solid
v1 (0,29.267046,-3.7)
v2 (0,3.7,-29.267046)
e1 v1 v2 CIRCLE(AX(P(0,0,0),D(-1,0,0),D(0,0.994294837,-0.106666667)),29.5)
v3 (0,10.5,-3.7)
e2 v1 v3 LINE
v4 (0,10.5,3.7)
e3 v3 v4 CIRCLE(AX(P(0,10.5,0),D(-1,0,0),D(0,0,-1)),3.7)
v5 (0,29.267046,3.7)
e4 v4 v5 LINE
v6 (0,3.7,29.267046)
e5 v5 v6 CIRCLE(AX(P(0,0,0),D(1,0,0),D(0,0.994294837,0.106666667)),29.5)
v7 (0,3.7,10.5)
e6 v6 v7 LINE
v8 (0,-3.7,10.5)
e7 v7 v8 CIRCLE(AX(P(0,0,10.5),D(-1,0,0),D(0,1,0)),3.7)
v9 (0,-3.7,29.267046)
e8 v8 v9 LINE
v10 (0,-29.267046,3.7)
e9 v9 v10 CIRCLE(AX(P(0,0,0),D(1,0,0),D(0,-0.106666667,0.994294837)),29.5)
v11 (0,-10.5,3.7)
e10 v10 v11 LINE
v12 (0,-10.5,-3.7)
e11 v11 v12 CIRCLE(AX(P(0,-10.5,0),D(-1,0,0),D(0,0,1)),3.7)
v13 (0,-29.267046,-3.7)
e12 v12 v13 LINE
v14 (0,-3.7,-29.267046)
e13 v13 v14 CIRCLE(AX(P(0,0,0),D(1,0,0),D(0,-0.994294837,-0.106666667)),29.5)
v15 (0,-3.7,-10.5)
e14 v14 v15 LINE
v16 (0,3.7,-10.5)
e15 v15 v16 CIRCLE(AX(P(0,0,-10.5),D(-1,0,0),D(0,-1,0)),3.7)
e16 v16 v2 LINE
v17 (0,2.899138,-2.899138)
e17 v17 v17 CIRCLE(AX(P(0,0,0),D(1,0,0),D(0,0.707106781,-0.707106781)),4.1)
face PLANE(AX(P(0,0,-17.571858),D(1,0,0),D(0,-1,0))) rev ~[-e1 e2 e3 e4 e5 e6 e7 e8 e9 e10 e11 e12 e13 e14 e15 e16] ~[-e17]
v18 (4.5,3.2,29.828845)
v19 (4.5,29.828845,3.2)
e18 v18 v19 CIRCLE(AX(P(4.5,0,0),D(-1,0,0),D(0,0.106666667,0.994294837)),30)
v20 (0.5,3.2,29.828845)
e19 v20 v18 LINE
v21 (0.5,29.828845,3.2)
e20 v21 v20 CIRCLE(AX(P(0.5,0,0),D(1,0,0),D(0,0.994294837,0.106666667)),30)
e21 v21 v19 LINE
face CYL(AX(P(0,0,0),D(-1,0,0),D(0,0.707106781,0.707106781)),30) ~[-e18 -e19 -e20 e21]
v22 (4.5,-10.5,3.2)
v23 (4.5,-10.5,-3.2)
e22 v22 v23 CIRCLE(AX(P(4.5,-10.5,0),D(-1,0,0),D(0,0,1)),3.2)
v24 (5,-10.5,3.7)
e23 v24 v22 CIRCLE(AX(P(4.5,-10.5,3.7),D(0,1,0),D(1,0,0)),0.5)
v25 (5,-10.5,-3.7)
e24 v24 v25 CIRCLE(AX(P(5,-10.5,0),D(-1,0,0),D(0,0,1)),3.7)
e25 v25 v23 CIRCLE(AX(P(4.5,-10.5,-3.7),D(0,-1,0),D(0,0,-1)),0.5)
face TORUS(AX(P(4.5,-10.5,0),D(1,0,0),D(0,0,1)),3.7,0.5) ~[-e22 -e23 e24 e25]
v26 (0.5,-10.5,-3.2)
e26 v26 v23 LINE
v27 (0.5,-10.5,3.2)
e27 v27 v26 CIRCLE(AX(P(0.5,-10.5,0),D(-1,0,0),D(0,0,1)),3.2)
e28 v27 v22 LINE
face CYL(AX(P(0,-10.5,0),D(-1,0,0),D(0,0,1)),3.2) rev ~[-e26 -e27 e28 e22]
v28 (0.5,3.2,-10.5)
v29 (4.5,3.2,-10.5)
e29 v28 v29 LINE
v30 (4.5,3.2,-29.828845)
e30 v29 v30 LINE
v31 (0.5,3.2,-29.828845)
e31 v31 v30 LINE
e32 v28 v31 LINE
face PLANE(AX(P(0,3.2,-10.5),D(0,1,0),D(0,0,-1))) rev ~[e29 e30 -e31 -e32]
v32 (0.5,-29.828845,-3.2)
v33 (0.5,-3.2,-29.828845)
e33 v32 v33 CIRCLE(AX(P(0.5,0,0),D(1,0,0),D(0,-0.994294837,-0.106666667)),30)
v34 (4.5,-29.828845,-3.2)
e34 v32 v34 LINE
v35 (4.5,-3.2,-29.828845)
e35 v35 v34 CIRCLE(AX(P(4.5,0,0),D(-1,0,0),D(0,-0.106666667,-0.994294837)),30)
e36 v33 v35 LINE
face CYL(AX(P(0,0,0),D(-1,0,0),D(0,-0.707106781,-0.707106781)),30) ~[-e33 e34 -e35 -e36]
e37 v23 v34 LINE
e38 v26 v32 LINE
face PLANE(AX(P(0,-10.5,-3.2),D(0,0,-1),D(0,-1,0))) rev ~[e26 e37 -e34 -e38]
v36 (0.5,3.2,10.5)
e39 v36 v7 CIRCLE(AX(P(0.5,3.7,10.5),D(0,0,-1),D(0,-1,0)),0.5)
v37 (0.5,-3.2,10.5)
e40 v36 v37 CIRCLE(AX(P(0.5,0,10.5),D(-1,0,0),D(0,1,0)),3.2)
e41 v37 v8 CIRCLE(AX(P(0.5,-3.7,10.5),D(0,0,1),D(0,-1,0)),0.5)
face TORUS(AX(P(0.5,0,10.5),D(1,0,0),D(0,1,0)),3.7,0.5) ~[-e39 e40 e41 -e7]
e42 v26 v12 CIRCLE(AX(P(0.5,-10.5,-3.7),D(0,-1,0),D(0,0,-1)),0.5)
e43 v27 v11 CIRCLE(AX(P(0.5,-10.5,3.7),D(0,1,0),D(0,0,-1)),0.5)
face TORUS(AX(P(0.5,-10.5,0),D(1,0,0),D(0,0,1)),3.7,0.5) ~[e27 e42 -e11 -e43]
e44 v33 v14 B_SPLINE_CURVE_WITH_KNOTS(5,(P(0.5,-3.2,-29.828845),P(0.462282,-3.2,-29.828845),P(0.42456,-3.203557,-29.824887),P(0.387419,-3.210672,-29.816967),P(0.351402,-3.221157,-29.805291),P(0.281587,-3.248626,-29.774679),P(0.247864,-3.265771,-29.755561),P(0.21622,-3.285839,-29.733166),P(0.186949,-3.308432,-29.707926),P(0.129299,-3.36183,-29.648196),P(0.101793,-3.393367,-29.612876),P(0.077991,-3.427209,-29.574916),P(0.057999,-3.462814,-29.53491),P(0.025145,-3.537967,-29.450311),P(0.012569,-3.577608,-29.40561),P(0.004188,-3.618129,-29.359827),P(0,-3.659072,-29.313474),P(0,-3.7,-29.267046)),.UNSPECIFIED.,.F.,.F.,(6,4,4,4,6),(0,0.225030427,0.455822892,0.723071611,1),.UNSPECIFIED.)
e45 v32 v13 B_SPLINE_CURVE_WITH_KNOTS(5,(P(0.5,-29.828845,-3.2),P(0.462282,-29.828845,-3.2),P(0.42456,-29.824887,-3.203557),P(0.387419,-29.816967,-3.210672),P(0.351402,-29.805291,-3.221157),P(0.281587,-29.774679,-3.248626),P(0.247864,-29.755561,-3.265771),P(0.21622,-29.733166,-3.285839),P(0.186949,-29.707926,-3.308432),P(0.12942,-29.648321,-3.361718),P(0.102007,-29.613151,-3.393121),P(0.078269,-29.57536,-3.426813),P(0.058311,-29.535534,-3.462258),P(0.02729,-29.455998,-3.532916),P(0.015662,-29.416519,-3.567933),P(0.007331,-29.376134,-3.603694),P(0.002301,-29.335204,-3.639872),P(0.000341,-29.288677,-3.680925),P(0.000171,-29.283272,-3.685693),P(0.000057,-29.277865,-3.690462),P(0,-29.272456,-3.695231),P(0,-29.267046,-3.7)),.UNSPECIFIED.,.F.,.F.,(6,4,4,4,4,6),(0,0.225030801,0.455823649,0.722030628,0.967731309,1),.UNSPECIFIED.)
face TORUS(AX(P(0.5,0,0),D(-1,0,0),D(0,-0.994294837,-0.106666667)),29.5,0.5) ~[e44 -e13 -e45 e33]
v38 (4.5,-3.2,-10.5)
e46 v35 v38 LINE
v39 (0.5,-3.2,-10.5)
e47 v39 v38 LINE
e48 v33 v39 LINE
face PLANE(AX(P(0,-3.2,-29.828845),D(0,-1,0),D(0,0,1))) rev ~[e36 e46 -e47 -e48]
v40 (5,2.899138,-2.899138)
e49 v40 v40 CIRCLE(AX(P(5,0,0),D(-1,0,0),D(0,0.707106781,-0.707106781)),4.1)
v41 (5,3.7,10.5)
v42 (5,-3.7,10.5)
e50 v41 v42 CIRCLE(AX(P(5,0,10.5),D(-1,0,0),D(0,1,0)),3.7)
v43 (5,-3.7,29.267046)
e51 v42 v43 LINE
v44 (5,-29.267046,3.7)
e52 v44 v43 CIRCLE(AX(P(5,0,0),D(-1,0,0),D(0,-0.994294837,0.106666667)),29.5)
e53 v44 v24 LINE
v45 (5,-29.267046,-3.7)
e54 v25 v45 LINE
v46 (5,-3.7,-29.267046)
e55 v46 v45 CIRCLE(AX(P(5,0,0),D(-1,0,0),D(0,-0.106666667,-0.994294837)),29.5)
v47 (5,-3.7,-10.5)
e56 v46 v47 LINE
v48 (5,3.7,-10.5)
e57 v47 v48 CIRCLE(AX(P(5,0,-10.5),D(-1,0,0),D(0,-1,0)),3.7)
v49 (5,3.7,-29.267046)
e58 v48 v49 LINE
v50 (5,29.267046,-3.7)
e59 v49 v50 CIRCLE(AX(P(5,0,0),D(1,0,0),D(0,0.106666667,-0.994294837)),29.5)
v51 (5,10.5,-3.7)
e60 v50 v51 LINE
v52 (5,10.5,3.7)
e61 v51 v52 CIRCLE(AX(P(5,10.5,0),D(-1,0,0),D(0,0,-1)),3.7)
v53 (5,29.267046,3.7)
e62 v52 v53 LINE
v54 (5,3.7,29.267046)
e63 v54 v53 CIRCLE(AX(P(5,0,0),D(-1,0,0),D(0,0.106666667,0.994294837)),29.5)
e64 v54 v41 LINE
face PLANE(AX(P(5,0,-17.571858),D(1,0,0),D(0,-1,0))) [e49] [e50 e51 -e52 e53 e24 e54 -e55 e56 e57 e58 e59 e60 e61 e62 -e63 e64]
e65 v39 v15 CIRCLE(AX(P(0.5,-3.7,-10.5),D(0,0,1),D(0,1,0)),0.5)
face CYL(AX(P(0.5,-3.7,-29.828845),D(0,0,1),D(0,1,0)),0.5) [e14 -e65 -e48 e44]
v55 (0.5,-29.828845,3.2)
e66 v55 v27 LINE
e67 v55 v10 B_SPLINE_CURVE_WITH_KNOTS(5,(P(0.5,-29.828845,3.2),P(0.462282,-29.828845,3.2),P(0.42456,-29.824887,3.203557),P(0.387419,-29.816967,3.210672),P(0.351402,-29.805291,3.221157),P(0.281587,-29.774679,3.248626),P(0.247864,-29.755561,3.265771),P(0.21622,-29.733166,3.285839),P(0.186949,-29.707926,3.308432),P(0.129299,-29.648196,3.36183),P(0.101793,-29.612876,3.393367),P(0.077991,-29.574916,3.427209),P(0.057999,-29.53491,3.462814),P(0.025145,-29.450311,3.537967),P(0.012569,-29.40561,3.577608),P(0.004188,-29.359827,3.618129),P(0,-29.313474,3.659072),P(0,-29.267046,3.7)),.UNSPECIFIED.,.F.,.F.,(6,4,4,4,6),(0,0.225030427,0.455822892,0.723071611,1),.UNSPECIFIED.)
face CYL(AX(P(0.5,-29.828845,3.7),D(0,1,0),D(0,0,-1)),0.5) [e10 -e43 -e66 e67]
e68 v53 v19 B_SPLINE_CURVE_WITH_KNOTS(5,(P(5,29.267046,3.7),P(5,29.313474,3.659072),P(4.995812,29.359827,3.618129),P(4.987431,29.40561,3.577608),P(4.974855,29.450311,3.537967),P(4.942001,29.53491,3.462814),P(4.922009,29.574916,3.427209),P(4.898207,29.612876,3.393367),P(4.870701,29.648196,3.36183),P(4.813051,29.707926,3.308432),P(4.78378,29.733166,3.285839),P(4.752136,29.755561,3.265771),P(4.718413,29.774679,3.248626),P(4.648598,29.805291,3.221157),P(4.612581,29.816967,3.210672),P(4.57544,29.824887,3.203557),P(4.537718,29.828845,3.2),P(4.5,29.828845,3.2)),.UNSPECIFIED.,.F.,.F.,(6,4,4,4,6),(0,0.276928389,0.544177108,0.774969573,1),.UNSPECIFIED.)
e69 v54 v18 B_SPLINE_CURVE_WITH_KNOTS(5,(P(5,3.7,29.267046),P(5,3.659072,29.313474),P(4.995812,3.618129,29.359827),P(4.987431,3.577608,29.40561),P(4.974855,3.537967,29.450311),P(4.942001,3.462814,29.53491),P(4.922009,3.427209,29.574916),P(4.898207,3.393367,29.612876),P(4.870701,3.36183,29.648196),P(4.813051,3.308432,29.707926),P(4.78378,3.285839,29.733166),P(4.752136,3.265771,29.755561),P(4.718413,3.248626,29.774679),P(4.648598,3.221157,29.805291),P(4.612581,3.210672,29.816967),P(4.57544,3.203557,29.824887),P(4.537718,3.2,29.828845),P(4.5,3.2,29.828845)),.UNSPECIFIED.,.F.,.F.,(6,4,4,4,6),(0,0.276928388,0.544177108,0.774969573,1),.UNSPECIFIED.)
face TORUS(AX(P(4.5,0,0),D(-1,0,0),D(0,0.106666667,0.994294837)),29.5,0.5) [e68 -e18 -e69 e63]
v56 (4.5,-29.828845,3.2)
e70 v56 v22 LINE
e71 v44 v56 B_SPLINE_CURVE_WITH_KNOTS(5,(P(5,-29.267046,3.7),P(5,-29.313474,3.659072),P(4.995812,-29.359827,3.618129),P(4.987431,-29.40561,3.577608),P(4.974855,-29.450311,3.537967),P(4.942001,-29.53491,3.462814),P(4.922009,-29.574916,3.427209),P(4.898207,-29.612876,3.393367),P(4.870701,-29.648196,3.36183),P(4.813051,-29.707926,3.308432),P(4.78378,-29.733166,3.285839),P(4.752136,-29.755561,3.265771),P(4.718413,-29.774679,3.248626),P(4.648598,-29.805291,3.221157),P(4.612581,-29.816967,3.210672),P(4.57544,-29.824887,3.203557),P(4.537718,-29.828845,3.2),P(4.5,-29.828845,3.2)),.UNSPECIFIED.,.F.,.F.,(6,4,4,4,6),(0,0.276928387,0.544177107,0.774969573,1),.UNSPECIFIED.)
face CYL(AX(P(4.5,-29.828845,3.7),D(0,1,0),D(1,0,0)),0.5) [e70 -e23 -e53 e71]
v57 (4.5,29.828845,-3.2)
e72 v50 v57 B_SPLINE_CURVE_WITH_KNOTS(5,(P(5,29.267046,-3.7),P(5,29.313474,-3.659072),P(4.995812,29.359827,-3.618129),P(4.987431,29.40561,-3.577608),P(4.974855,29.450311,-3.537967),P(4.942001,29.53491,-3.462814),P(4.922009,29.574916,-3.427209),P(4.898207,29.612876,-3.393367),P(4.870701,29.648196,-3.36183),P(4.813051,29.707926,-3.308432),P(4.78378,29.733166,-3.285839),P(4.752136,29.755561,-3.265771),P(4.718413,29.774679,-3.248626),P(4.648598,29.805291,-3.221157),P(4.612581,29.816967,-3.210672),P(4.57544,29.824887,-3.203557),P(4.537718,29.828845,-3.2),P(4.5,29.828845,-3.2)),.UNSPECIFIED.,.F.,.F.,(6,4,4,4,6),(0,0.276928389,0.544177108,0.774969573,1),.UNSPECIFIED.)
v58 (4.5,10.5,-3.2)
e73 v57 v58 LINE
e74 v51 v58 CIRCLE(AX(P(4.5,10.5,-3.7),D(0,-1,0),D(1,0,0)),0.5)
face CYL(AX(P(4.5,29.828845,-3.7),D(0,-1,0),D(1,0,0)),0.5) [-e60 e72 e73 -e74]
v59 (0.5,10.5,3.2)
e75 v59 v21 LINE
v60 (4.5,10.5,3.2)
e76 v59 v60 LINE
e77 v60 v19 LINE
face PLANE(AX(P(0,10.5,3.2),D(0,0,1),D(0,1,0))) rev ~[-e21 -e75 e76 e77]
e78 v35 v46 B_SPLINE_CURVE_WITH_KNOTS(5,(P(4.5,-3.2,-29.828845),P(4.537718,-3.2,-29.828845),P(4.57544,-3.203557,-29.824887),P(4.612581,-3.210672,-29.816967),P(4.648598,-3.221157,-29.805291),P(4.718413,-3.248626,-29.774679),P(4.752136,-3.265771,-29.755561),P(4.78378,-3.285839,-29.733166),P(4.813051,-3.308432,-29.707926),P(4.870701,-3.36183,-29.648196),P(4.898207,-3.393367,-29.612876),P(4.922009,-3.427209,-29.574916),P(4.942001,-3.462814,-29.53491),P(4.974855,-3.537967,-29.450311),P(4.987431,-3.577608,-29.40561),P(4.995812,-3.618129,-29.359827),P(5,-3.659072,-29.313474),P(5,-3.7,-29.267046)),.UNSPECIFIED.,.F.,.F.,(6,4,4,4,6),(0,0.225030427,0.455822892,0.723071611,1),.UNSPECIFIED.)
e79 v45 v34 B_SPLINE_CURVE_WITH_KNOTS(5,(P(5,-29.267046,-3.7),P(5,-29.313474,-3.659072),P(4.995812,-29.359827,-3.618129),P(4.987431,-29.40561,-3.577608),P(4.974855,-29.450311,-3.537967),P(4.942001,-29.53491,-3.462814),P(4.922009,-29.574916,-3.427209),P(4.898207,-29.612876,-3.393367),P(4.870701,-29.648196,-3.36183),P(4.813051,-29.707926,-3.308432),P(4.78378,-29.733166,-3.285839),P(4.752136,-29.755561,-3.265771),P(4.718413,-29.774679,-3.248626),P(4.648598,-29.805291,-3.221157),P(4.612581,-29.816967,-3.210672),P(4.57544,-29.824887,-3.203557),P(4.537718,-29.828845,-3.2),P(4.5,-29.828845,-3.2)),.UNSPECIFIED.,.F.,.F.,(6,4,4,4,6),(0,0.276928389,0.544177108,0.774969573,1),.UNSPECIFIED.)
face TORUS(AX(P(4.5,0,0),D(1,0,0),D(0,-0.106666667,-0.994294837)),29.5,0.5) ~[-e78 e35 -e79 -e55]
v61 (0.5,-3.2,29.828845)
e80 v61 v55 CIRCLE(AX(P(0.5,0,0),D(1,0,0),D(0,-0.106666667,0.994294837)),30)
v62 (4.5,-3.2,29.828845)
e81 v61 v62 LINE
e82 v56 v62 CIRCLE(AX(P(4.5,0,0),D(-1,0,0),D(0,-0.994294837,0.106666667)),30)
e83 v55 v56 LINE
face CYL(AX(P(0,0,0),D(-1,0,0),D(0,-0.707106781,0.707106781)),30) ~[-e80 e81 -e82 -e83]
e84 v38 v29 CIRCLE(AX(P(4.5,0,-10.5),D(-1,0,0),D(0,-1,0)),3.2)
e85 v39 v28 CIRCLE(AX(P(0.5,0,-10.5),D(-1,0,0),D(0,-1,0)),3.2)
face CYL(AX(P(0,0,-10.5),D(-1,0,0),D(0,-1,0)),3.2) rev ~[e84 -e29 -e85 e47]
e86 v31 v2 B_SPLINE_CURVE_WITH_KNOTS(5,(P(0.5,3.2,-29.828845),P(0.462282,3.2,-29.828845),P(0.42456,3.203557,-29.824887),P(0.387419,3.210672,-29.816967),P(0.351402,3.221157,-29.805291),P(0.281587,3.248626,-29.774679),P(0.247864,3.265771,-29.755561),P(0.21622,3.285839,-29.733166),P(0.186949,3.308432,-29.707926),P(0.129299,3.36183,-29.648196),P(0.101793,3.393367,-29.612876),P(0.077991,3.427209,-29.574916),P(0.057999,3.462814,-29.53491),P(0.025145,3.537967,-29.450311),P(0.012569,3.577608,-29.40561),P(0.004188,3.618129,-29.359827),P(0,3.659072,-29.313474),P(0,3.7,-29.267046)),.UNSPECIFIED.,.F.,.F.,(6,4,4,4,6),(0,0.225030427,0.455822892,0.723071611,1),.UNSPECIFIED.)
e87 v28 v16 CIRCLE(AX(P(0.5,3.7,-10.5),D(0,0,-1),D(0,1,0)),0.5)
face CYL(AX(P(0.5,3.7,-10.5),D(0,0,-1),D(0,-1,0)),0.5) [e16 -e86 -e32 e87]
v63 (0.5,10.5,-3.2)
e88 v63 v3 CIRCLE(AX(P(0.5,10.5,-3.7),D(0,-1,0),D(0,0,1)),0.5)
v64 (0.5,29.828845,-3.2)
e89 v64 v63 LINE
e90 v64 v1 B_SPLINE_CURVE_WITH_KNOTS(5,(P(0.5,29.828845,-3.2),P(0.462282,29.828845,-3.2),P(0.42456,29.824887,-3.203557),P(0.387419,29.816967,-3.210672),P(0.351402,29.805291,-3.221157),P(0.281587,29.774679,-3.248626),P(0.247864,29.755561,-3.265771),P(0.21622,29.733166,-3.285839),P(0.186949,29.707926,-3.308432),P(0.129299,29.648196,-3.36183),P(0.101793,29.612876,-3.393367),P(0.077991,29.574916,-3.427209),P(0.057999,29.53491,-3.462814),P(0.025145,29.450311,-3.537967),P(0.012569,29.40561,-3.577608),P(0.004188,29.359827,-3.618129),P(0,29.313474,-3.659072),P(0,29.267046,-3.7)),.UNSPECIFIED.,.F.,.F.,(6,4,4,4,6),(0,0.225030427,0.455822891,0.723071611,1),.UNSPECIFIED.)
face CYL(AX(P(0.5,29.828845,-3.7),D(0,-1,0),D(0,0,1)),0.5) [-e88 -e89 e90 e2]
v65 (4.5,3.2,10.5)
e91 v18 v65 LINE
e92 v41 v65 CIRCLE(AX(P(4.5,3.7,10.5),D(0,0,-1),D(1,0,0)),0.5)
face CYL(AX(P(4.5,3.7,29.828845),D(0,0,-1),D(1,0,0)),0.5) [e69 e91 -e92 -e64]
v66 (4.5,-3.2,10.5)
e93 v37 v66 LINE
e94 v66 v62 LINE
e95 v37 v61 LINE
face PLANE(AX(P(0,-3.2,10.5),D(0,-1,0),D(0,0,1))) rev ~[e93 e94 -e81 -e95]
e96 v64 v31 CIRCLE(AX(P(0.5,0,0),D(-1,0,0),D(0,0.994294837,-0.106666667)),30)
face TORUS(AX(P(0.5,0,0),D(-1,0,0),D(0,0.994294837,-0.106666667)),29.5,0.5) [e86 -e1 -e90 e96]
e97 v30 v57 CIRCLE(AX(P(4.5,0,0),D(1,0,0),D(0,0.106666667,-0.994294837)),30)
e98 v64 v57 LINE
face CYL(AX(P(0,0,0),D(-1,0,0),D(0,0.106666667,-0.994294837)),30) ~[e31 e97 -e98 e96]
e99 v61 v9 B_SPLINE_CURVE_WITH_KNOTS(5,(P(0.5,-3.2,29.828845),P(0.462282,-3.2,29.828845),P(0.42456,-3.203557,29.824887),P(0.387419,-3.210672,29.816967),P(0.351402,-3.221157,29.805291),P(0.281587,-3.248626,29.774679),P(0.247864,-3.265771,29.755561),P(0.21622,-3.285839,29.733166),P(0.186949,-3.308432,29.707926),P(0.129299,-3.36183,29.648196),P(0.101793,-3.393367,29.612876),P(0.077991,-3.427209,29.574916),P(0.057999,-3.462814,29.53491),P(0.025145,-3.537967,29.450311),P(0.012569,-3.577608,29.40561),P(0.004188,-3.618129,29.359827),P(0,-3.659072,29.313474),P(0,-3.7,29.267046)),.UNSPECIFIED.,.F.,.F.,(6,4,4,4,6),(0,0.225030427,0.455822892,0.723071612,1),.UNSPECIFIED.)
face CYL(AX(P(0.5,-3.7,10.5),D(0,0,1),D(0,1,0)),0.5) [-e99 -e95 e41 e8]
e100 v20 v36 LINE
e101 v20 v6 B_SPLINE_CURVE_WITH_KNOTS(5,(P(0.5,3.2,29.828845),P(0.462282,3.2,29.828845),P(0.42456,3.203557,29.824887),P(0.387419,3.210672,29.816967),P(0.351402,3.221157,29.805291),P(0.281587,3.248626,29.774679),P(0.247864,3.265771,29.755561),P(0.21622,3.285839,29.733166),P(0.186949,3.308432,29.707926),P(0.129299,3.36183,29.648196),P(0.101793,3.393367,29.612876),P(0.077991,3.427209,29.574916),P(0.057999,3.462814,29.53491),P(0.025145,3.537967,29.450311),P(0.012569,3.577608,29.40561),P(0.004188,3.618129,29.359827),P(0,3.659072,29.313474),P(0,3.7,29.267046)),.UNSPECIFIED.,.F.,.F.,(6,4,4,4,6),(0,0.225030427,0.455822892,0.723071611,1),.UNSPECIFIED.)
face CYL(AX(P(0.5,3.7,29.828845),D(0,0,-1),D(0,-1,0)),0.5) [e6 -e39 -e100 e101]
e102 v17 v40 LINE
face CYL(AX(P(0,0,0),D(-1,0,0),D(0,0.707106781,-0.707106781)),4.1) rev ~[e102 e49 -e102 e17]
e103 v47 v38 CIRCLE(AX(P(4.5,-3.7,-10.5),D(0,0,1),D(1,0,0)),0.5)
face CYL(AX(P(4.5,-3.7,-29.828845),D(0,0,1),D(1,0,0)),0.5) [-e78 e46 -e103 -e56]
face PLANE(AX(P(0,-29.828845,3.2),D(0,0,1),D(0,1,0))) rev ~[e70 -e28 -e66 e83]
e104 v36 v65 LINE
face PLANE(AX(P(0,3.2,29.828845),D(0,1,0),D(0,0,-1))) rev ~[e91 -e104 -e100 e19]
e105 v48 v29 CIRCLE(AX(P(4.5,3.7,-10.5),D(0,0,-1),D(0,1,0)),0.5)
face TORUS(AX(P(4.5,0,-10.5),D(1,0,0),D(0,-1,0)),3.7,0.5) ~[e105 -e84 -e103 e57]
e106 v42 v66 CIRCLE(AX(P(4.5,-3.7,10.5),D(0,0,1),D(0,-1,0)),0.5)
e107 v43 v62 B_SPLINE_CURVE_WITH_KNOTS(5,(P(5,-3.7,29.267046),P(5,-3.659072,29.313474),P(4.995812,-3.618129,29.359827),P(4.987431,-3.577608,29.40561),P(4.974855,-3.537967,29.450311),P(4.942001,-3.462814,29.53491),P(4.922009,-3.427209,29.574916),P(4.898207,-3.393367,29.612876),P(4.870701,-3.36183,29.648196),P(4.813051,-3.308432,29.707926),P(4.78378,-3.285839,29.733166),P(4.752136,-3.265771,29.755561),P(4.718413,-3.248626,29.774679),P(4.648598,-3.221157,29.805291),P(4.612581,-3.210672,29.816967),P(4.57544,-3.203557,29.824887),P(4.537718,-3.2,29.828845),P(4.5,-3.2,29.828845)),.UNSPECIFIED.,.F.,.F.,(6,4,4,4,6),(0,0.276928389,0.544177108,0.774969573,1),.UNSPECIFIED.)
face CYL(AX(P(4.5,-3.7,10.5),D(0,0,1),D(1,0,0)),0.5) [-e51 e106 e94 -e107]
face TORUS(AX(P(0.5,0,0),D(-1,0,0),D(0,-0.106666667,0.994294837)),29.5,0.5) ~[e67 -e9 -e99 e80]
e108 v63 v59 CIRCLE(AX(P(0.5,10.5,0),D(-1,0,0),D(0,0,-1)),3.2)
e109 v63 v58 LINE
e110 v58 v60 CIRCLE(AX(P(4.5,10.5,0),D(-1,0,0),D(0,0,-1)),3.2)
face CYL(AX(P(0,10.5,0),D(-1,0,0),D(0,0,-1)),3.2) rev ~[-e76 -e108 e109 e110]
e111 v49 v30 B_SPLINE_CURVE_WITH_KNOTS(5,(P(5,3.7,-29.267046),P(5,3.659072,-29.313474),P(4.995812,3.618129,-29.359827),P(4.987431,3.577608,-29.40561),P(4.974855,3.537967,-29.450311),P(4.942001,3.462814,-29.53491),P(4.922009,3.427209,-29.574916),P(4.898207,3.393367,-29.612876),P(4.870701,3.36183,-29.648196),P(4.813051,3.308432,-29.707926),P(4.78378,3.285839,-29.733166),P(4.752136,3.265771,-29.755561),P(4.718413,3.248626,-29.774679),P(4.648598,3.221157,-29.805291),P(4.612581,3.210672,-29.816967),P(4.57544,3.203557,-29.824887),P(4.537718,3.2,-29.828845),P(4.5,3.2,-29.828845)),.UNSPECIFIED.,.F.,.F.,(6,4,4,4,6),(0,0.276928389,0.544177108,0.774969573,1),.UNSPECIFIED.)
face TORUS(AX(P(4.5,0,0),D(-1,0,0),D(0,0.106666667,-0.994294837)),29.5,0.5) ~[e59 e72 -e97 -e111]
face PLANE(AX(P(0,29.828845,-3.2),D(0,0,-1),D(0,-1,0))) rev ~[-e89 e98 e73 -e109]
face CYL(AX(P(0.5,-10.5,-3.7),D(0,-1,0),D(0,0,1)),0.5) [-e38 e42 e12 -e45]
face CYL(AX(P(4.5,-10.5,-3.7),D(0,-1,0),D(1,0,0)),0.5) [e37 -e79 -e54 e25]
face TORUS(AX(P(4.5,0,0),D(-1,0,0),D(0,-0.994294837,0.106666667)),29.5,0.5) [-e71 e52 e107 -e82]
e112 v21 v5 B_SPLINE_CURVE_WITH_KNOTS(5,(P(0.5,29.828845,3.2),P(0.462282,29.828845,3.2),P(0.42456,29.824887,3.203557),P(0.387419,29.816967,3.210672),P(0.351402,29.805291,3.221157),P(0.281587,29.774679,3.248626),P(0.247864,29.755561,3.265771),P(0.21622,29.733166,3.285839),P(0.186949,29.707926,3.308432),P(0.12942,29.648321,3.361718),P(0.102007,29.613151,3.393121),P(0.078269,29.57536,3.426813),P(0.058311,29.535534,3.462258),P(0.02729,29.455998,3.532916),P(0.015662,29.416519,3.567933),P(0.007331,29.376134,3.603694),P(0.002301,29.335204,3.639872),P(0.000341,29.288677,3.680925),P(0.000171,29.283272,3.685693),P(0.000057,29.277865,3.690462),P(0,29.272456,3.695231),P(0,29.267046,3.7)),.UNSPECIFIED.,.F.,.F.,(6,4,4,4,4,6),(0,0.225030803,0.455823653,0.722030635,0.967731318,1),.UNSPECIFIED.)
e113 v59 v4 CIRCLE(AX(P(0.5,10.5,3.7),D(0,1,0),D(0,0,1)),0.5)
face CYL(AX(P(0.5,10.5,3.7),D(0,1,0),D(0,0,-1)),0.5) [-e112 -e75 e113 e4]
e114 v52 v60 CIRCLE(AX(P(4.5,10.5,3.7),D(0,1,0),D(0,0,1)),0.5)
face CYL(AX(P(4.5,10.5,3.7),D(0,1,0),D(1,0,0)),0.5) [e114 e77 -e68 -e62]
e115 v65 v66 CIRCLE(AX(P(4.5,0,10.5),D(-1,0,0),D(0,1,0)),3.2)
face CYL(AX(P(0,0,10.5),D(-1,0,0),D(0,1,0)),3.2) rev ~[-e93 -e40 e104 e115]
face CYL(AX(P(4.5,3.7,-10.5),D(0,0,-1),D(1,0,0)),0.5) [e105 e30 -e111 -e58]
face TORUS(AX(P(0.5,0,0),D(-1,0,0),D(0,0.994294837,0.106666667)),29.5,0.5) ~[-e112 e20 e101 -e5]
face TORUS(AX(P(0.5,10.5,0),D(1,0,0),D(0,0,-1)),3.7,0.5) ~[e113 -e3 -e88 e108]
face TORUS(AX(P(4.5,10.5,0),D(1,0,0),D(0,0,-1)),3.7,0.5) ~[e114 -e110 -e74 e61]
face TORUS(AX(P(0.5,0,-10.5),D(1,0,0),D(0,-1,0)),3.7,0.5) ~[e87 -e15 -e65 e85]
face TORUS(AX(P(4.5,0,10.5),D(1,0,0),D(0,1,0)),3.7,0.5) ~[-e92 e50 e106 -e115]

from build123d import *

# Parameters (mm, degrees)
BOSS_EXTRUDE1_DEPTH = 5
CIRPATTERN2_COUNT   = 4
FILLET1_R           = 0.5


with BuildPart() as part:
    # Sketch1 → Boss-Extrude1 (new body)
    with BuildSketch(Plane(origin=(0, 0, 0), x_dir=(0, 0, -1), z_dir=(1, 0, 0))):
        with BuildLine():
            ThreePointArc((21.21320343559647, 21.21320343559638), (12.944436867601569, 27.063657442789903), (3.2000000000000988, 29.82884510000344))
            Line((3.2000000000000006, 29.828845100003434), (3.200000000000003, 10.5))
            ThreePointArc((3.200000000000003, 10.500000000000002), (3.62e-15, 7.300000000000001), (-3.1999999999999966, 10.5))
            Line((-3.1999999999999975, 10.5), (-3.2000000000000006, 29.828845100003434))
            ThreePointArc((-3.200000000000102, 29.82884510000344), (-12.944436867601578, 27.0636574427899), (-21.21320343559647, 21.21320343559638))
            Line((-21.21320343559647, 21.21320343559638), (-2.899137802864851, 2.8991378028648396))
            ThreePointArc((-2.89913780286495, 2.899137802864739), (-1.34e-14, 4.1), (2.8991378028649306, 2.8991378028647583))
            Line((2.8991378028648507, 2.8991378028648387), (21.21320343559647, 21.213203435596384))
        make_face()
    boss_extrude1 = extrude(amount=BOSS_EXTRUDE1_DEPTH)

    # CirPattern2: Boss-Extrude1 ×4 about axis
    cirpattern2_axis = Axis((0, 0, 5.64e-15), (1, 0, 0))
    for i in range(1, CIRPATTERN2_COUNT):
        add(boss_extrude1.rotate(cirpattern2_axis, i * 360 / CIRPATTERN2_COUNT))

    # Fillet1
    fillet1_edges = [part.edges().sort_by_distance(p)[0] for p in [
        (0, 21.213203435596427, -21.213203435596423),
        (5, 20.164422550001717, 3.1999999999999993),
        (0, 21.21320343559643, 21.213203435596437),
        (0, 20.164422550001717, 3.1999999999999993),
        (0, 7.300000000000001, -3.77e-15),
        (5, 21.213203435596434, 21.213203435596416),
        (5, 1.022e-14, 7.300000000000006),
        (5, -3.1999999999999913, 20.164422550001724),
        (0, -21.213203435596427, 21.213203435596437),
        (0, 3.20000000000001, 20.164422550001724),
        (5, -21.21320343559641, 21.21320343559644),
        (5, -20.164422550001717, 3.2000000000000157),
        (5, -21.213203435596434, -21.2132034355964),
        (5, -3.200000000000012, -20.16442255000171),
        (5, 3.20000000000001, 20.164422550001724),
        (0, 1.022e-14, 7.300000000000006),
        (0, 3.199999999999989, -20.16442255000171),
        (0, -1.103e-14, -7.299999999999995),
        (0, -20.164422550001717, -3.1999999999999855),
        (0, -7.300000000000001, 1.595e-14),
        (0, -3.1999999999999913, 20.164422550001724),
        (5, -7.300000000000001, 1.595e-14),
        (5, -20.164422550001717, -3.1999999999999855),
        (0, -21.213203435596434, -21.21320343559642),
        (0, -20.164422550001717, 3.2000000000000157),
        (5, 21.21320343559641, -21.21320343559643),
        (5, -1.103e-14, -7.299999999999995),
        (5, 3.199999999999989, -20.16442255000171),
        (0, -3.200000000000012, -20.16442255000171),
        (5, 20.164422550001717, -3.200000000000002),
        (5, 7.300000000000001, -3.77e-15),
        (0, 20.164422550001717, -3.200000000000002),
    ]]
    fillet(fillet1_edges, radius=FILLET1_R)


solid = part.part
